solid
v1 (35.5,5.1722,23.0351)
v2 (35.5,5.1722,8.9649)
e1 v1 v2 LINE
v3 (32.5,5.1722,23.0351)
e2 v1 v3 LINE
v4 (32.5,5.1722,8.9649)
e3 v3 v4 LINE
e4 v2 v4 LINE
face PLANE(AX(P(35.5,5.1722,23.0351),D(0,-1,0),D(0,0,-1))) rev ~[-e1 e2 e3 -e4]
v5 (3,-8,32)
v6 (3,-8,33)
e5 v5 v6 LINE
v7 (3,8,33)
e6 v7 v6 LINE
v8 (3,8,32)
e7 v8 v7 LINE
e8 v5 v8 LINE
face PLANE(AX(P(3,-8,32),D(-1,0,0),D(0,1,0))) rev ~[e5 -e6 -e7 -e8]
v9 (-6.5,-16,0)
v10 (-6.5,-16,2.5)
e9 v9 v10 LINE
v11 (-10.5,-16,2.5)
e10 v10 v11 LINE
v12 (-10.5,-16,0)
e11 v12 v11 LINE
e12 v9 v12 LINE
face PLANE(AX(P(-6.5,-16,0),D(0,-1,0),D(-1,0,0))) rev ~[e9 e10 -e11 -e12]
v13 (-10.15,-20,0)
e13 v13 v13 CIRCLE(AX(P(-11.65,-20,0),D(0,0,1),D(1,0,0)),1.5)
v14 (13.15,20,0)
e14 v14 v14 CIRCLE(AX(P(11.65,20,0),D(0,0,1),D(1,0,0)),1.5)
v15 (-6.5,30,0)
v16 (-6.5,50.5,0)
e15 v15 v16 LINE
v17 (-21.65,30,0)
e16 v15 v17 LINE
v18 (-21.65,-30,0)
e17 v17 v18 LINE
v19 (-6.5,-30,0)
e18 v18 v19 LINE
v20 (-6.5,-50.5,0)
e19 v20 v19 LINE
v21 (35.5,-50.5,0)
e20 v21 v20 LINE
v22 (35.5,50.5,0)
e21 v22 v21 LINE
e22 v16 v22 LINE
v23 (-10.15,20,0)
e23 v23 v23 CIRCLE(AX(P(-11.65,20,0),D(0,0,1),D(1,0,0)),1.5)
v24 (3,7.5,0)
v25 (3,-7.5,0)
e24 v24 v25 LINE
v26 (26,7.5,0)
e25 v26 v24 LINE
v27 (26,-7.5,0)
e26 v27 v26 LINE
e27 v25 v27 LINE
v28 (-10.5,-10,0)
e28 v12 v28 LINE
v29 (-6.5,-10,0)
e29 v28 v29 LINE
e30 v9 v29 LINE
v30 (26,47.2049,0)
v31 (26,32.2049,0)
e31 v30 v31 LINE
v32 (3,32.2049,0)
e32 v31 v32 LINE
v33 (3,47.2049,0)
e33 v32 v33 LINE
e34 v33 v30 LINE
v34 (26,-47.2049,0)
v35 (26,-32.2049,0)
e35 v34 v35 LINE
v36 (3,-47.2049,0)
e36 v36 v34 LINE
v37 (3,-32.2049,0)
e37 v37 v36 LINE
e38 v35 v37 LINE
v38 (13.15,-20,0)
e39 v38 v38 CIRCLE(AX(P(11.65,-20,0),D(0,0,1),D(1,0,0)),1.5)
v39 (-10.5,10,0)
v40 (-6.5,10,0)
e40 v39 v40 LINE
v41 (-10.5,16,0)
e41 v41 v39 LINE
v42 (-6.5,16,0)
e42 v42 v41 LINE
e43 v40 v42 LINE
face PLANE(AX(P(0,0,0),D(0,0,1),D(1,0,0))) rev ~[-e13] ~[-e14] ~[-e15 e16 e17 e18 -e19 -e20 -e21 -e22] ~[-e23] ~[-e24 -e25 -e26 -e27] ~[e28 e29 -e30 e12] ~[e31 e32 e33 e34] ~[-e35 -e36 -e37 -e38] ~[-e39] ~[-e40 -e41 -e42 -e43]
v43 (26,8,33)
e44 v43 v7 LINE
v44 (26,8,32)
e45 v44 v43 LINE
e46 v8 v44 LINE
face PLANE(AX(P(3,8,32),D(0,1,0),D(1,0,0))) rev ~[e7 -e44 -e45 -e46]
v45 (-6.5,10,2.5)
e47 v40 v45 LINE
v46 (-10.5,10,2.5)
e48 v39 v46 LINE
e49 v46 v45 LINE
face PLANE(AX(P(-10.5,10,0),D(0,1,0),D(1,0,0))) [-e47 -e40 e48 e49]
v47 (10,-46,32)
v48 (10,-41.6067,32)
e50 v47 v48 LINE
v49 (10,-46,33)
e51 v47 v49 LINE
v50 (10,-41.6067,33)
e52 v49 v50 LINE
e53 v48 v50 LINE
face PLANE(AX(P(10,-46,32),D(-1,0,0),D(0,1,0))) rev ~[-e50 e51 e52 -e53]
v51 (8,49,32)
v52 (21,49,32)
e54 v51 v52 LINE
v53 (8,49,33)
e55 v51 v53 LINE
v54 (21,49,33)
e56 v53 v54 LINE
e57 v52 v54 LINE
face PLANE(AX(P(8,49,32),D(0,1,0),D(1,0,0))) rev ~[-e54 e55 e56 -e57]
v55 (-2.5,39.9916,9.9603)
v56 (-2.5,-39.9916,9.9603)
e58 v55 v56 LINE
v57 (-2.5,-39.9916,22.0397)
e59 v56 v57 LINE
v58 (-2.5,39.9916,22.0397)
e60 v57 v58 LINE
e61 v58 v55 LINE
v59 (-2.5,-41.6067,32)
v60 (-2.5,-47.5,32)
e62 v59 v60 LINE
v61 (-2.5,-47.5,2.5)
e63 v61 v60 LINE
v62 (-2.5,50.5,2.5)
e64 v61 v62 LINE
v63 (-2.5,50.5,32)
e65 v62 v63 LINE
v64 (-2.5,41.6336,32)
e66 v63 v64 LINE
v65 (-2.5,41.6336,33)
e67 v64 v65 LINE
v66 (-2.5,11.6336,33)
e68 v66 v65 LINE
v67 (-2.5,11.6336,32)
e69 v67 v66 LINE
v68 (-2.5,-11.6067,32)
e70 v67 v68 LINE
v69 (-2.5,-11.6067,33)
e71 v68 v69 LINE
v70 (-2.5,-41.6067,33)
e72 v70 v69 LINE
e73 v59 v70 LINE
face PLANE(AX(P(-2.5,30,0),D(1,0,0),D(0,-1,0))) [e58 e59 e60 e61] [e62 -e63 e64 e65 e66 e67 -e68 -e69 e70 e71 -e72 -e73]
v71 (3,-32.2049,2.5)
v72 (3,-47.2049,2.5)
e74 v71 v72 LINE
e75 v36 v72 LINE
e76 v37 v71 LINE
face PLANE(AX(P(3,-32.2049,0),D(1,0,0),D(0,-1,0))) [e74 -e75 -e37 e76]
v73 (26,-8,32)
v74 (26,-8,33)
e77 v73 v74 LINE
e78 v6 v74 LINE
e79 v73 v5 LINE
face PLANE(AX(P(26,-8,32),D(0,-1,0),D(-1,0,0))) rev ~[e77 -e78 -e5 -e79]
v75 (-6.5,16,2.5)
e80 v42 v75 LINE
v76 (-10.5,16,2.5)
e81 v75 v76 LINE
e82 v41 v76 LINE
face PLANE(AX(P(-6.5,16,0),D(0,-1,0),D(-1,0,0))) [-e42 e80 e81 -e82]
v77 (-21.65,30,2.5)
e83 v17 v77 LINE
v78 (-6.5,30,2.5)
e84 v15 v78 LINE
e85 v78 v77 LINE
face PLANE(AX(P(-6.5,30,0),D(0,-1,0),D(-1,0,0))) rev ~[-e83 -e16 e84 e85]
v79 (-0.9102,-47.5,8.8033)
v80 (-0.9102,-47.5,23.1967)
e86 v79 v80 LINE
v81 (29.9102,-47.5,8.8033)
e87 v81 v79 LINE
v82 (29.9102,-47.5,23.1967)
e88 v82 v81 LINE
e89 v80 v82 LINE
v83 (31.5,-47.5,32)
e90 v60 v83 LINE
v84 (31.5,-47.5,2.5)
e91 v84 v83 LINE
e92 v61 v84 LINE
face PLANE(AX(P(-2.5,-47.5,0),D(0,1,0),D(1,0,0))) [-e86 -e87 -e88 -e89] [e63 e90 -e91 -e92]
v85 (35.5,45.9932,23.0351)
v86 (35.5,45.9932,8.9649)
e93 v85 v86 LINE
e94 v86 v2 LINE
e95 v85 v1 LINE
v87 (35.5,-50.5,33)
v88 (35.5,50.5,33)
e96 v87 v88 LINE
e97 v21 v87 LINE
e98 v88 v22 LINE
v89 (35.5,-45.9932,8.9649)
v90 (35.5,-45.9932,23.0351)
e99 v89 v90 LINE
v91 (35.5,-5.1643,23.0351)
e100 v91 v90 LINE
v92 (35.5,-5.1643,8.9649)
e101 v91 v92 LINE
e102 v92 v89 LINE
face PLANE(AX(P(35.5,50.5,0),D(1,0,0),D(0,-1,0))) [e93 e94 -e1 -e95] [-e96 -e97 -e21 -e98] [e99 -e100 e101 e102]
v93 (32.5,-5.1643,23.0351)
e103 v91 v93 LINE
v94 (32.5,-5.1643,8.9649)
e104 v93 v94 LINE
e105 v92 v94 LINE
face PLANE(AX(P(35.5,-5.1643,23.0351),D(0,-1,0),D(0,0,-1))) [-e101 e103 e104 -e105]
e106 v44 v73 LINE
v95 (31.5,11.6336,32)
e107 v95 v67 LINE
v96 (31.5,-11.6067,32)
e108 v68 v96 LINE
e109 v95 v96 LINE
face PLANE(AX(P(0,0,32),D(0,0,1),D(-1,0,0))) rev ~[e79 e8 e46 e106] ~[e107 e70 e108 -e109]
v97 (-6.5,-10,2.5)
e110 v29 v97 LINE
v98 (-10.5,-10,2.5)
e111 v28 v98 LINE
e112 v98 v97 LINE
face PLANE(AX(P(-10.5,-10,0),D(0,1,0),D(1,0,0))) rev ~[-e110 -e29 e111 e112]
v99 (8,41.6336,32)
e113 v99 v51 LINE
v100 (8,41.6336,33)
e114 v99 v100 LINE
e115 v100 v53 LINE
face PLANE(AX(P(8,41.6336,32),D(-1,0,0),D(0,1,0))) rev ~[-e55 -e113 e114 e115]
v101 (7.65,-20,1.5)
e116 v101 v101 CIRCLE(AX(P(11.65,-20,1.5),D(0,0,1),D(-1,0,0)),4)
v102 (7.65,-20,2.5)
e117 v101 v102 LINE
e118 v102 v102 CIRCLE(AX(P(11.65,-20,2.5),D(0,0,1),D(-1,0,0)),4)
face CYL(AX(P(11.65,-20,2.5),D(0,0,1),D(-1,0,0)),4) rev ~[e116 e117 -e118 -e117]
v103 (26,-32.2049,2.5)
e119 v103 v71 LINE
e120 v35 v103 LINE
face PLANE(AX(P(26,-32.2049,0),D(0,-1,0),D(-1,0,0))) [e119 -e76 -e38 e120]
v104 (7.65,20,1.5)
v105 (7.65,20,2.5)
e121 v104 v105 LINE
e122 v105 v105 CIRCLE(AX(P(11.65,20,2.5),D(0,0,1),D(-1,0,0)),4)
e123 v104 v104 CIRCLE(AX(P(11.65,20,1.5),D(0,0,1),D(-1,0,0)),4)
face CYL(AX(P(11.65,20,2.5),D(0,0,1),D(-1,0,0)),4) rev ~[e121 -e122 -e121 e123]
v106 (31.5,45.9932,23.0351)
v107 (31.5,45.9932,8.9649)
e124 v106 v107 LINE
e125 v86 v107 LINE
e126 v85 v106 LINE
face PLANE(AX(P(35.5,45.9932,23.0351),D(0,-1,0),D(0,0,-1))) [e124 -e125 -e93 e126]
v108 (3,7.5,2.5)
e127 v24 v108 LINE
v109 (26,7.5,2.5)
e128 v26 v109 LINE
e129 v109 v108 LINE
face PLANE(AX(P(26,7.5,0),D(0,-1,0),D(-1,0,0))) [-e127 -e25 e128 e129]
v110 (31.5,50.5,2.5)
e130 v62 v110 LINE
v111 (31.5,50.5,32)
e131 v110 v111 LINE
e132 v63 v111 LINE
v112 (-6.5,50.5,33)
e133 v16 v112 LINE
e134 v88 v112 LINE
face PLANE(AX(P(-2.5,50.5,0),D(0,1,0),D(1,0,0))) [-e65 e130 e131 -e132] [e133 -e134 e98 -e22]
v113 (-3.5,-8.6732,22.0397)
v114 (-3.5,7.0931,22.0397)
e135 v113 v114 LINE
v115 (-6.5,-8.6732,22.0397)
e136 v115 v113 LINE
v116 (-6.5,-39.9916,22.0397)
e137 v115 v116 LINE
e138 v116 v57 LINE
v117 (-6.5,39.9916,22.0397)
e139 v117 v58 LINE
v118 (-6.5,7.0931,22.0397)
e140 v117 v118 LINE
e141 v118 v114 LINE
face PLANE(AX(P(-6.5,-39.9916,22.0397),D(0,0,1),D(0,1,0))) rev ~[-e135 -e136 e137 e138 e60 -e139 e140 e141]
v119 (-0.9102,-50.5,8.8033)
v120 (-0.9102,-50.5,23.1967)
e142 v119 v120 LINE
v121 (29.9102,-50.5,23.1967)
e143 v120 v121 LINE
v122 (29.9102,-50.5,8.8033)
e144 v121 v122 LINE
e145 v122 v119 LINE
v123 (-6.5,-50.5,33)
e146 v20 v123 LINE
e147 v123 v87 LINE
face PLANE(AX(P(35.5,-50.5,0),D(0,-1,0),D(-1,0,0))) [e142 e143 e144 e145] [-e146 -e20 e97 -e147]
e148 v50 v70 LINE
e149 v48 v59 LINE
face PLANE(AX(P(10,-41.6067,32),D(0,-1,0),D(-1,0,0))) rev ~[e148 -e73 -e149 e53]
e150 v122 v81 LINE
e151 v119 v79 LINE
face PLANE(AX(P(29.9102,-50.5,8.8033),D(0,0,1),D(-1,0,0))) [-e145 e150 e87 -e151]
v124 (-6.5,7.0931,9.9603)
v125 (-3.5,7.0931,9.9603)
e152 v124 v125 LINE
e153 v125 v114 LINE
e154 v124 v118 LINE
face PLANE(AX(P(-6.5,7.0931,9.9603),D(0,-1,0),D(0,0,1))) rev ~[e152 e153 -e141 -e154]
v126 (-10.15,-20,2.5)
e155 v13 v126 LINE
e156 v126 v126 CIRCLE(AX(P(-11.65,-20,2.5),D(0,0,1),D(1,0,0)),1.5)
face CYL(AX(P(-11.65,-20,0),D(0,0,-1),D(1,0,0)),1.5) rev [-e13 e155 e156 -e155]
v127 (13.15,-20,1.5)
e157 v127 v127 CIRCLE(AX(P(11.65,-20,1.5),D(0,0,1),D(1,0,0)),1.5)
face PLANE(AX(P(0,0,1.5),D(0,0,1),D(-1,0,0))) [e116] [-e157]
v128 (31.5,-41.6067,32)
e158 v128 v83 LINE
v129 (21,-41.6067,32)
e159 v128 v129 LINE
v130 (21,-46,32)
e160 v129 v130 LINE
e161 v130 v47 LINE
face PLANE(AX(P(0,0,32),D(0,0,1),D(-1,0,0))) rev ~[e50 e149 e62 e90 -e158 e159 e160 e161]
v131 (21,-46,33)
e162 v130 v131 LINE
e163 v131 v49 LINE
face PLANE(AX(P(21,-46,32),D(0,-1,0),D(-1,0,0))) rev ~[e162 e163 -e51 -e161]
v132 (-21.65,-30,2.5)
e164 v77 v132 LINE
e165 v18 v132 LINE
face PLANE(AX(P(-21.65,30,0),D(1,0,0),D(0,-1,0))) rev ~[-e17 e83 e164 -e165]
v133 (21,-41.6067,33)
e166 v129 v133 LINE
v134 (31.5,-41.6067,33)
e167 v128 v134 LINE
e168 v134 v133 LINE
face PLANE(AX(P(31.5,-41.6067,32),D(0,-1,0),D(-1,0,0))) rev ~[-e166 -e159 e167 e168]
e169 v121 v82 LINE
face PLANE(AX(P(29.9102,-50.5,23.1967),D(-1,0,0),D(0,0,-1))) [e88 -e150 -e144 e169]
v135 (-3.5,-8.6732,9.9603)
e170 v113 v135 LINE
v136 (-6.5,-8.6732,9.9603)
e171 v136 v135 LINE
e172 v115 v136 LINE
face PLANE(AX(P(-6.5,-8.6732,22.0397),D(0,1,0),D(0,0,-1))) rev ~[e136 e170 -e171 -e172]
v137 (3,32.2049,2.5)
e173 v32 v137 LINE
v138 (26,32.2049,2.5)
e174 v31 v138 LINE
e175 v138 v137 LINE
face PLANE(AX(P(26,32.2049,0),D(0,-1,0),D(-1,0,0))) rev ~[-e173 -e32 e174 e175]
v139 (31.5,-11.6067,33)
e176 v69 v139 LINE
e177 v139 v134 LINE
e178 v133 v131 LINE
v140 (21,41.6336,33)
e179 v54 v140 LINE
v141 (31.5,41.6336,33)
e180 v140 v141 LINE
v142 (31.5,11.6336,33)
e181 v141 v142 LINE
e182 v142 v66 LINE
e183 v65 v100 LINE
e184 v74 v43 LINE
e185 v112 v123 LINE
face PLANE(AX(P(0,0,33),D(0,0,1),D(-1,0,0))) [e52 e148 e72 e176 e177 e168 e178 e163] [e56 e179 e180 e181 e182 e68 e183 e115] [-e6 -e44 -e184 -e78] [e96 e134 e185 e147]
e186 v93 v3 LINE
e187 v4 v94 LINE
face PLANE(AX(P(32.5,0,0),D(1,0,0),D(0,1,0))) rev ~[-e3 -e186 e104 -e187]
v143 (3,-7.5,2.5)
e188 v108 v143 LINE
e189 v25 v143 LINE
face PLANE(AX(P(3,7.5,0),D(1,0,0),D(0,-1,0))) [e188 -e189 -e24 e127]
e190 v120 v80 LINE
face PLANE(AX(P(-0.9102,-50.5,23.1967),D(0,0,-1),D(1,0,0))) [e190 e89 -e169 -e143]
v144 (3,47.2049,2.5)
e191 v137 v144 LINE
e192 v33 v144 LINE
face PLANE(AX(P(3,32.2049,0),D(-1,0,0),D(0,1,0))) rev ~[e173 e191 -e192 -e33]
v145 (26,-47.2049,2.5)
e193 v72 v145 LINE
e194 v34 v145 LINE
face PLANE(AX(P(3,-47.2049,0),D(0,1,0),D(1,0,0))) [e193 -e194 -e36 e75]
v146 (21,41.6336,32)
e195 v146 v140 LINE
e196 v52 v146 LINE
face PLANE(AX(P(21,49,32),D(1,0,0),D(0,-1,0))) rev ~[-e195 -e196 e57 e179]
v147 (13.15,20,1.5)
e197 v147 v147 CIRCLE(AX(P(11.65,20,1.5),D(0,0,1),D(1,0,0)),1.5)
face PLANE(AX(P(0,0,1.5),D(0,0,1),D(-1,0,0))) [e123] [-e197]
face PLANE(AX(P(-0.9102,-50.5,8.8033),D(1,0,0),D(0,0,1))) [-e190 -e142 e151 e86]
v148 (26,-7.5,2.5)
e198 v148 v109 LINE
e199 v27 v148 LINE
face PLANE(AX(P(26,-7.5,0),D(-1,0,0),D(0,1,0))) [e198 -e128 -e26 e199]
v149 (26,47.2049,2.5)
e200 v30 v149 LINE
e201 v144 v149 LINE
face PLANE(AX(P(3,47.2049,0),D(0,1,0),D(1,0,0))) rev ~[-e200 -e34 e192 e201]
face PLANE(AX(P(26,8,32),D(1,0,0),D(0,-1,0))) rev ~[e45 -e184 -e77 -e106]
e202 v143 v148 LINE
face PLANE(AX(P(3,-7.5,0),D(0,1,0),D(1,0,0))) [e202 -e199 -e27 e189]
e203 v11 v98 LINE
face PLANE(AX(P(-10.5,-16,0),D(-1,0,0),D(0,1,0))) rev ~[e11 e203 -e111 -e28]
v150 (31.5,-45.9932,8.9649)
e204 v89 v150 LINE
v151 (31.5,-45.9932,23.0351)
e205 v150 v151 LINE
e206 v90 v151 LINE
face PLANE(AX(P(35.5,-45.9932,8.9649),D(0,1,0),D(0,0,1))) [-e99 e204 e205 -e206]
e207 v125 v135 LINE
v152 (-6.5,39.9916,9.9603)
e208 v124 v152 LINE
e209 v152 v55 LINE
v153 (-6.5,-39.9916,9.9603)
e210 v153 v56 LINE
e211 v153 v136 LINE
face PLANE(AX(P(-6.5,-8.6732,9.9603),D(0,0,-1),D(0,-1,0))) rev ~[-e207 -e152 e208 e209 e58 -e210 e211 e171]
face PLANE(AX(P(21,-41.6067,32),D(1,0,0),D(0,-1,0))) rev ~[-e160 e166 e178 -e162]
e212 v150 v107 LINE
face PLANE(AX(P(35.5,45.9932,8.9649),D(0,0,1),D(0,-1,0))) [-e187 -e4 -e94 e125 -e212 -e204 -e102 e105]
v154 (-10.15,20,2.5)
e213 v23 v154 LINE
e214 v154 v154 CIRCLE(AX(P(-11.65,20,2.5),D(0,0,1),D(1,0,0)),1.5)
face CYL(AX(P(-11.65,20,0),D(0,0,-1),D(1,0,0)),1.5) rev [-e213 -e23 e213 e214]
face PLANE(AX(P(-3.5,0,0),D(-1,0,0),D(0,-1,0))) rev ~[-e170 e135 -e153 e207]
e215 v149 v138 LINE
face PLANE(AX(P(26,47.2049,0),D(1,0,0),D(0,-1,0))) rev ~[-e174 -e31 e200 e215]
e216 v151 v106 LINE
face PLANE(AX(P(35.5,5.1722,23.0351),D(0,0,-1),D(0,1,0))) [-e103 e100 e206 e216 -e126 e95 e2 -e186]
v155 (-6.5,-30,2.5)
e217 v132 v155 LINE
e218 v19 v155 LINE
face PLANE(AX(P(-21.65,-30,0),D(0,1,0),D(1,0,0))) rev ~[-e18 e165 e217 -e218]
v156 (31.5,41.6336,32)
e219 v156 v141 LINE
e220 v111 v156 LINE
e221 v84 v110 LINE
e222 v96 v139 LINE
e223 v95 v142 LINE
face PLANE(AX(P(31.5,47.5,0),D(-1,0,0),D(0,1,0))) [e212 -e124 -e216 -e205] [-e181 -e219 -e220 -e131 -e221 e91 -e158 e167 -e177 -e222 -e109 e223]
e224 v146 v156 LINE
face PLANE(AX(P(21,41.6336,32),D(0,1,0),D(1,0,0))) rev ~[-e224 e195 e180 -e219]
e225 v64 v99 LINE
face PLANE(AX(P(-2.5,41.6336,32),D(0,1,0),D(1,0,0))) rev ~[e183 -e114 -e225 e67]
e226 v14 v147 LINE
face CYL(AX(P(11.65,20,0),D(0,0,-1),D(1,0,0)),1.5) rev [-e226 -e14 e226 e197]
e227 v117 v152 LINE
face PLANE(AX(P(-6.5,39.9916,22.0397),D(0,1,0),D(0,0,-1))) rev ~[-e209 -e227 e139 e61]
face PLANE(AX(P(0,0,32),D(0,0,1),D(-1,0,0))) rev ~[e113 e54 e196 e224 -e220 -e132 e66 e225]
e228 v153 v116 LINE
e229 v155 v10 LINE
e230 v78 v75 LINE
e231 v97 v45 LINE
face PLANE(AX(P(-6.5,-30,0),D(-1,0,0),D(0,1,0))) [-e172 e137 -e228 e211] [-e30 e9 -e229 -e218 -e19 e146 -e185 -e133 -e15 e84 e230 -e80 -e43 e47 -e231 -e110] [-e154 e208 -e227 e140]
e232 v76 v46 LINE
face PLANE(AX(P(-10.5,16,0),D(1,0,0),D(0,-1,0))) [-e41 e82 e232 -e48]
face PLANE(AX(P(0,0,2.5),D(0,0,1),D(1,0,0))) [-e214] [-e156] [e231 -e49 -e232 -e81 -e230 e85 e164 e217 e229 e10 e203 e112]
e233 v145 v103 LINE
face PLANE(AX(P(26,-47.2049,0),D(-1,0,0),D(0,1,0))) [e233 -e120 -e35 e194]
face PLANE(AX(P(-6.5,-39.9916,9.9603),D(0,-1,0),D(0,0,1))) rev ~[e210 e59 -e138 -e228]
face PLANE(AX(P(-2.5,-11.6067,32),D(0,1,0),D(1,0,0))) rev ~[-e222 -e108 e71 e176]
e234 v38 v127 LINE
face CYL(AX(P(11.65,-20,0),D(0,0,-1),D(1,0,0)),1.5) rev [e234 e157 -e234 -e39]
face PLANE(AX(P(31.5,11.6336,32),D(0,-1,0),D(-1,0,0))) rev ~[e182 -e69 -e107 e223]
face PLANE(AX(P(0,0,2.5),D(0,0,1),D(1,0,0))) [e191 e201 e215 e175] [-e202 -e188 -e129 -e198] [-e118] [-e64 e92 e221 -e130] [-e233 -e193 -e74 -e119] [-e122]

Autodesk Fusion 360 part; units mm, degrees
sketch "Sketch1" plane through (0, 0, 0) normal (0, 0, 1) x (1, 0, 0)
  line L0 (21.65, 30) -> (-21.65, 30)
  line L1 (-21.65, 30) -> (-21.65, -30)
  line L2 (-21.65, -30) -> (21.65, -30)
  line L3 (21.65, -30) -> (21.65, 30) construction
  line L4 (21.65, 30) -> (-21.65, -30) construction
  line L5 (-21.65, 30) -> (21.65, -30) construction
  line L6 (0, 30) -> (0, -30) construction
  line L7 (21.65, 0) -> (-21.65, 0) construction
  circle A0 centre (-11.65, 20) radius 1.5
  circle A1 centre (11.65, 20) radius 1.5
  circle A2 centre (-11.65, -20) radius 1.5
  circle A3 centre (11.65, -20) radius 1.5
  line L8 (-6.5, 50.5) -> (35.5, 50.5)
  line L9 (35.5, 50.5) -> (35.5, -50.5)
  line L10 (35.5, -50.5) -> (-6.5, -50.5)
  line L11 (-6.5, -50.5) -> (-6.5, 50.5)
  line L12 (-6.5, 50.5) -> (35.5, -50.5) construction
  line L13 (35.5, 50.5) -> (-6.5, -50.5) construction
  line L14 (-6.5, 0) -> (35.5, 0) construction
  line L15 (31.5, 47.5) -> (-2.5, 47.5)
  line L16 (-2.5, 47.5) -> (-2.5, -47.5)
  line L17 (-2.5, -47.5) -> (31.5, -47.5)
  line L18 (31.5, -47.5) -> (31.5, 47.5)
  line L19 (31.5, 47.5) -> (-2.5, -47.5) construction
  line L20 (-2.5, 47.5) -> (31.5, -47.5) construction
  line L21 (-2.5, 47.5) -> (-2.5, 50.5)
  line L22 (31.5, 47.5) -> (31.5, 50.5)
  line L23 (14.5, 47.5) -> (14.5, -47.5) construction
  line L24 (-6.5, 16) -> (-10.5, 16)
  line L25 (-10.5, 16) -> (-10.5, 10)
  line L26 (-10.5, 10) -> (-6.5, 10)
  line L27 (-6.5, 10) -> (-6.5, 16)
  line L28 (-10.5, -10) -> (-6.5, -10)
  line L29 (-10.5, -16) -> (-10.5, -10)
  line L30 (-6.5, -16) -> (-10.5, -16)
  line L31 (11.65, 20) -> (-6.5, 20) construction
  line L32 (-6.5, 23.26) -> (-6.5, 16.3949)
  line L33 (-2.5, 17.3602) -> (-2.5, 22.9192)
  line L34 (-2.5, 22.9192) -> (-6.5, 16.3949) construction
  line L35 (-6.5, 23.26) -> (-2.5, 17.3602) construction
  line L36 (26, 32.2049) -> (3, 32.2049)
  line L37 (3, 32.2049) -> (3, 47.2049)
  line L38 (3, 47.2049) -> (26, 47.2049)
  line L39 (26, 47.2049) -> (26, 32.2049)
  line L40 (26, 32.2049) -> (3, 47.2049) construction
  line L41 (3, 32.2049) -> (26, 47.2049) construction
  line L42 (3, -47.2049) -> (26, -47.2049)
  line L43 (26, -32.2049) -> (3, -32.2049)
  line L44 (26, -47.2049) -> (26, -32.2049)
  line L45 (3, -32.2049) -> (3, -47.2049)
  line L46 (26, 7.5) -> (3, 7.5)
  line L47 (3, 7.5) -> (3, -7.5)
  line L48 (3, -7.5) -> (26, -7.5)
  line L49 (26, -7.5) -> (26, 7.5)
  line L50 (26, 7.5) -> (3, -7.5) construction
  line L51 (3, 7.5) -> (26, -7.5) construction
  point P0 (14.5, 0)
  point P1 (14.5, 0)
  point P2 (-4.2897, 20)
  point P3 (-4.2897, -20)
  point P4 (14.5, 0)
  point P5 (14.5, 39.7049)
  point P6 (14.5, 0)
  dimension "d1" = 43.3
  dimension "d2" = 60
  dimension "screwHoleThickness" = 3
  dimension "wSpacingScrew" = 11.65
  dimension "lSpacingScrew" = 20
  dimension "width" = 42
  dimension "lengthWall" = 101
  dimension "d8" = 34
  dimension "length" = 95
  dimension "d24" = 14.5
  dimension "screwwallcancel" = 4
  dimension "d26" = 6
  dimension "d27" = 10
  dimension "d43" = 23
  dimension "d44" = 15
  dimension "d45" = 23
  dimension "d46" = 15
extrude "Extrude9" add sketch "Sketch1" along normal blind 2.5 contours L15 L16 L17 L18 L33 | L0 L1 L2 L11 L24 L25 L26 L28 L29 L30 L32 | L8 L15 L21 L22 makes body 1 at (-17.9333, -3.3333, 0) makes body 2 at (21.7167, 19.9016, 0)
extrude "Extrude10" add sketch "Sketch1" along normal blind 32 contours L0 L2 L11 L16 L27 L32 L33 | L0 L8 L11 L16 L21 | L2 L8 L9 L10 L11 L16 L17 L18 L22 bodies 1 2
sketch "Sketch2" plane through (35.5, 0, 0) normal (1, 0, 0) x (0, 1, 0)
  line L0 (-50.5, 0) -> (50.5, 0)
  line L1 (50.5, 0) -> (50.5, 32)
  line L2 (50.5, 32) -> (-50.5, 32)
  line L3 (-50.5, 32) -> (-50.5, 0)
  line L4 (0, 32) -> (0, 0) construction
  line L5 (50.5, 16) -> (-50.5, 16) construction
  line L6 (45.9932, 8.9649) -> (-45.9932, 8.9649)
  line L7 (-45.9932, 8.9649) -> (-45.9932, 23.0351)
  line L8 (-45.9932, 23.0351) -> (45.9932, 23.0351)
  line L9 (45.9932, 23.0351) -> (45.9932, 8.9649)
  line L10 (45.9932, 8.9649) -> (-45.9932, 23.0351) construction
  line L11 (-45.9932, 8.9649) -> (45.9932, 23.0351) construction
  line L12 (-5.1643, 23.0351) -> (-5.1643, 8.9649)
  line L13 (5.1722, 23.0351) -> (5.1722, 8.9649)
  point P0 (0, 16)
sketch "Sketch3" plane through (0, -50.5, 0) normal (0, -1, 0) x (1, 0, 0)
  line L0 (-6.5, 0) -> (35.5, 0)
  line L1 (35.5, 0) -> (35.5, 32)
  line L2 (35.5, 32) -> (-6.5, 32)
  line L3 (-6.5, 32) -> (-6.5, 0)
  line L4 (14.5, 32) -> (14.5, 0) construction
  line L5 (35.5, 16) -> (-6.5, 16) construction
  line L6 (29.9102, 8.8033) -> (-0.9102, 8.8033)
  line L7 (-0.9102, 8.8033) -> (-0.9102, 23.1967)
  line L8 (-0.9102, 23.1967) -> (29.9102, 23.1967)
  line L9 (29.9102, 23.1967) -> (29.9102, 8.8033)
  line L10 (29.9102, 8.8033) -> (-0.9102, 23.1967) construction
  line L11 (-0.9102, 8.8033) -> (29.9102, 23.1967) construction
  point P0 (14.5, 16)
extrude "Extrude11" cut sketch "Sketch3" against normal blind 3 contours L6 L7 L8 L9 bodies 1
extrude "Extrude12" cut sketch "Sketch2" against normal blind 4 contours L6 L8 L9 L13 | L6 L8 L12 L13 | L6 L7 L8 L12 bodies 1
sketch "Sketch4" plane through (-6.5, 0, 0) normal (-1, 0, 0) x (0, -1, 0)
  line L0 (-10, 0) -> (-10, 2.5)
  line L1 (-10, 2.5) -> (10, 2.5)
  line L2 (10, 2.5) -> (10, 0)
  line L3 (10, 0) -> (16, 0)
  line L4 (16, 0) -> (16, 2.5)
  line L5 (16, 2.5) -> (30, 2.5)
  line L6 (30, 2.5) -> (30, 0)
  line L7 (30, 0) -> (50.5, 0)
  line L8 (50.5, 0) -> (50.5, 32)
  line L9 (50.5, 32) -> (-50.5, 32)
  line L10 (-50.5, 32) -> (-50.5, 0)
  line L11 (-50.5, 0) -> (-30, 0)
  line L12 (-30, 0) -> (-30, 2.5)
  line L13 (-30, 2.5) -> (-16, 2.5)
  line L14 (-16, 2.5) -> (-16, 0)
  line L15 (-16, 0) -> (-10, 0)
  line L16 (0, 32) -> (0, 0) construction
  line L17 (50.5, 16) -> (-50.5, 16) construction
  line L18 (39.9916, 22.0397) -> (-39.9916, 22.0397)
  line L19 (-39.9916, 22.0397) -> (-39.9916, 9.9603)
  line L20 (-39.9916, 9.9603) -> (39.9916, 9.9603)
  line L21 (39.9916, 9.9603) -> (39.9916, 22.0397)
  line L22 (39.9916, 22.0397) -> (-39.9916, 9.9603) construction
  line L23 (-39.9916, 22.0397) -> (39.9916, 9.9603) construction
  line L24 (-7.0931, 22.0397) -> (8.6732, 22.0397)
  line L25 (8.6732, 22.0397) -> (8.6732, 9.9603)
  line L26 (8.6732, 9.9603) -> (-7.0931, 9.9603)
  line L27 (-7.0931, 9.9603) -> (-7.0931, 22.0397)
  point P0 (0, 16)
extrude "Extrude13" cut sketch "Sketch4" against normal blind 4 contours L18 L20 L21 L25 | L18 L20 L24 L25 L26 L27 | L18 L19 L20 L27 bodies 1
sketch "Sketch5" plane through (0, 0, 2.5) normal (0, 0, 1) x (-1, 0, 0)
  line L0 (-3, 47.2049) -> (-3, 32.2049)
  line L1 (-3, 32.2049) -> (-26, 32.2049)
  line L2 (-26, 32.2049) -> (-26, 47.2049)
  line L3 (-26, 47.2049) -> (-3, 47.2049)
  line L4 (-3, -47.2049) -> (-26, -47.2049)
  line L5 (-26, -47.2049) -> (-26, -32.2049)
  line L6 (-26, -32.2049) -> (-3, -32.2049)
  line L7 (-3, -32.2049) -> (-3, -47.2049)
  circle A0 centre (-11.65, -20) radius 1.5
  circle A1 centre (-11.65, 20) radius 1.5
  line L8 (-26, -7.5) -> (-26, 7.5)
  line L9 (-26, 7.5) -> (-3, 7.5)
  line L10 (-3, 7.5) -> (-3, -7.5)
  line L11 (-3, -7.5) -> (-26, -7.5)
  line L12 (2.5, 47.5) -> (-31.5, 47.5)
  line L13 (-31.5, 47.5) -> (-31.5, -50.5)
  line L14 (-31.5, -50.5) -> (2.5, -50.5)
  line L15 (2.5, -50.5) -> (2.5, 47.5)
  circle A2 centre (-11.65, -20) radius 4
  circle A3 centre (-11.65, 20) radius 4
  dimension "d57" = 8
  dimension "d58" = 8
extrude "Extrude14" cut sketch "Sketch5" against normal blind 0.5 contours A2 | A3 bodies 1
sketch "Sketch6" plane through (0, 0, 32) normal (0, 0, 1) x (-1, 0, 0)
  line L0 (2.5, 47.5) -> (2.5, -50.5)
  line L1 (2.5, -50.5) -> (6.5, -50.5)
  line L2 (6.5, -50.5) -> (6.5, 50.5)
  line L3 (6.5, 50.5) -> (-35.5, 50.5)
  line L4 (-35.5, 50.5) -> (-35.5, -50.5)
  line L5 (-35.5, -50.5) -> (-31.5, -50.5)
  line L6 (-31.5, -50.5) -> (-31.5, 47.5)
  line L7 (-31.5, 47.5) -> (2.5, 47.5)
  line L8 (6.5, -50.5) -> (-35.5, -50.5)
  line L9 (-35.5, -50.5) -> (-35.5, 50.5)
  line L10 (-35.5, 50.5) -> (6.5, 50.5)
  line L11 (6.5, 50.5) -> (6.5, -50.5)
  line L12 (2.5, -41.6336) -> (-31.5, -41.6336)
  line L13 (-31.5, -41.6336) -> (-31.5, -11.6336)
  line L14 (-31.5, -11.6336) -> (2.5, -11.6336)
  line L15 (2.5, -11.6336) -> (2.5, -41.6336)
  line L16 (2.5, 11.6067) -> (-31.5, 11.6067)
  line L17 (-31.5, 11.6067) -> (-31.5, 41.6067)
  line L18 (-31.5, 41.6067) -> (2.5, 41.6067)
  line L19 (2.5, 41.6067) -> (2.5, 11.6067)
  line L20 (-8, -49) -> (-21, -49)
  line L21 (-21, -49) -> (-21, -38)
  line L22 (-21, -38) -> (-8, -38)
  line L23 (-8, -38) -> (-8, -49)
  line L24 (-10, 37) -> (-21, 37)
  line L25 (-21, 37) -> (-21, 46)
  line L26 (-21, 46) -> (-10, 46)
  line L27 (-10, 46) -> (-10, 37)
  line L28 (2.5, -0.0134) -> (-31.5, -0.0134) construction
  line L29 (-3, -8) -> (-26, -8)
  line L30 (-26, -8) -> (-26, 8)
  line L31 (-26, 8) -> (-3, 8)
  line L32 (-3, 8) -> (-3, -8)
  dimension "d63" = 30
  dimension "d64" = 30
extrude "Extrude15" add sketch "Sketch6" along normal blind 1 contours L0 L1 L2 L3 L4 L5 L6 L7 L8 L9 L10 L11 L13 L15 L17 L19 | L0 L6 L7 L18 L25 L26 L27 | L0 L6 L14 L16 | L0 L6 L8 L12 L20 L21 L23 | L29 L30 L31 L32 bodies 1
extrude "Extrude16" cut sketch "Sketch6" along normal blind 2 contours L29 L30 L31 L32 bodies 1
extrude "Extrude17" add sketch "Sketch2" against normal blind 3 contours L6 L8 L12 L13 bodies 1
extrude "Extrude18" add sketch "Sketch4" against normal blind 3 contours L18 L20 L24 L25 L26 L27 bodies 1
extrude "Extrusion19" cut 2 faces at (8.5038, 20.2732, 2) (8.5038, -19.7268, 2) along direction (0, 0, -1) blind 0.5 on bodies 1 bodies 1
equation "d1 = 10 mm + 23.3 mm + 10 mm"
equation "d2 = 10 mm + 40 mm + 10 mm"
equation "width = 36 mm + 2 * wallThickness"
equation "lengthWall = length + 2 * wallThickness"
equation "wallThickness = 3 mm"
equation "zipHole = 6 mm"
equation "height = 32 mm"
